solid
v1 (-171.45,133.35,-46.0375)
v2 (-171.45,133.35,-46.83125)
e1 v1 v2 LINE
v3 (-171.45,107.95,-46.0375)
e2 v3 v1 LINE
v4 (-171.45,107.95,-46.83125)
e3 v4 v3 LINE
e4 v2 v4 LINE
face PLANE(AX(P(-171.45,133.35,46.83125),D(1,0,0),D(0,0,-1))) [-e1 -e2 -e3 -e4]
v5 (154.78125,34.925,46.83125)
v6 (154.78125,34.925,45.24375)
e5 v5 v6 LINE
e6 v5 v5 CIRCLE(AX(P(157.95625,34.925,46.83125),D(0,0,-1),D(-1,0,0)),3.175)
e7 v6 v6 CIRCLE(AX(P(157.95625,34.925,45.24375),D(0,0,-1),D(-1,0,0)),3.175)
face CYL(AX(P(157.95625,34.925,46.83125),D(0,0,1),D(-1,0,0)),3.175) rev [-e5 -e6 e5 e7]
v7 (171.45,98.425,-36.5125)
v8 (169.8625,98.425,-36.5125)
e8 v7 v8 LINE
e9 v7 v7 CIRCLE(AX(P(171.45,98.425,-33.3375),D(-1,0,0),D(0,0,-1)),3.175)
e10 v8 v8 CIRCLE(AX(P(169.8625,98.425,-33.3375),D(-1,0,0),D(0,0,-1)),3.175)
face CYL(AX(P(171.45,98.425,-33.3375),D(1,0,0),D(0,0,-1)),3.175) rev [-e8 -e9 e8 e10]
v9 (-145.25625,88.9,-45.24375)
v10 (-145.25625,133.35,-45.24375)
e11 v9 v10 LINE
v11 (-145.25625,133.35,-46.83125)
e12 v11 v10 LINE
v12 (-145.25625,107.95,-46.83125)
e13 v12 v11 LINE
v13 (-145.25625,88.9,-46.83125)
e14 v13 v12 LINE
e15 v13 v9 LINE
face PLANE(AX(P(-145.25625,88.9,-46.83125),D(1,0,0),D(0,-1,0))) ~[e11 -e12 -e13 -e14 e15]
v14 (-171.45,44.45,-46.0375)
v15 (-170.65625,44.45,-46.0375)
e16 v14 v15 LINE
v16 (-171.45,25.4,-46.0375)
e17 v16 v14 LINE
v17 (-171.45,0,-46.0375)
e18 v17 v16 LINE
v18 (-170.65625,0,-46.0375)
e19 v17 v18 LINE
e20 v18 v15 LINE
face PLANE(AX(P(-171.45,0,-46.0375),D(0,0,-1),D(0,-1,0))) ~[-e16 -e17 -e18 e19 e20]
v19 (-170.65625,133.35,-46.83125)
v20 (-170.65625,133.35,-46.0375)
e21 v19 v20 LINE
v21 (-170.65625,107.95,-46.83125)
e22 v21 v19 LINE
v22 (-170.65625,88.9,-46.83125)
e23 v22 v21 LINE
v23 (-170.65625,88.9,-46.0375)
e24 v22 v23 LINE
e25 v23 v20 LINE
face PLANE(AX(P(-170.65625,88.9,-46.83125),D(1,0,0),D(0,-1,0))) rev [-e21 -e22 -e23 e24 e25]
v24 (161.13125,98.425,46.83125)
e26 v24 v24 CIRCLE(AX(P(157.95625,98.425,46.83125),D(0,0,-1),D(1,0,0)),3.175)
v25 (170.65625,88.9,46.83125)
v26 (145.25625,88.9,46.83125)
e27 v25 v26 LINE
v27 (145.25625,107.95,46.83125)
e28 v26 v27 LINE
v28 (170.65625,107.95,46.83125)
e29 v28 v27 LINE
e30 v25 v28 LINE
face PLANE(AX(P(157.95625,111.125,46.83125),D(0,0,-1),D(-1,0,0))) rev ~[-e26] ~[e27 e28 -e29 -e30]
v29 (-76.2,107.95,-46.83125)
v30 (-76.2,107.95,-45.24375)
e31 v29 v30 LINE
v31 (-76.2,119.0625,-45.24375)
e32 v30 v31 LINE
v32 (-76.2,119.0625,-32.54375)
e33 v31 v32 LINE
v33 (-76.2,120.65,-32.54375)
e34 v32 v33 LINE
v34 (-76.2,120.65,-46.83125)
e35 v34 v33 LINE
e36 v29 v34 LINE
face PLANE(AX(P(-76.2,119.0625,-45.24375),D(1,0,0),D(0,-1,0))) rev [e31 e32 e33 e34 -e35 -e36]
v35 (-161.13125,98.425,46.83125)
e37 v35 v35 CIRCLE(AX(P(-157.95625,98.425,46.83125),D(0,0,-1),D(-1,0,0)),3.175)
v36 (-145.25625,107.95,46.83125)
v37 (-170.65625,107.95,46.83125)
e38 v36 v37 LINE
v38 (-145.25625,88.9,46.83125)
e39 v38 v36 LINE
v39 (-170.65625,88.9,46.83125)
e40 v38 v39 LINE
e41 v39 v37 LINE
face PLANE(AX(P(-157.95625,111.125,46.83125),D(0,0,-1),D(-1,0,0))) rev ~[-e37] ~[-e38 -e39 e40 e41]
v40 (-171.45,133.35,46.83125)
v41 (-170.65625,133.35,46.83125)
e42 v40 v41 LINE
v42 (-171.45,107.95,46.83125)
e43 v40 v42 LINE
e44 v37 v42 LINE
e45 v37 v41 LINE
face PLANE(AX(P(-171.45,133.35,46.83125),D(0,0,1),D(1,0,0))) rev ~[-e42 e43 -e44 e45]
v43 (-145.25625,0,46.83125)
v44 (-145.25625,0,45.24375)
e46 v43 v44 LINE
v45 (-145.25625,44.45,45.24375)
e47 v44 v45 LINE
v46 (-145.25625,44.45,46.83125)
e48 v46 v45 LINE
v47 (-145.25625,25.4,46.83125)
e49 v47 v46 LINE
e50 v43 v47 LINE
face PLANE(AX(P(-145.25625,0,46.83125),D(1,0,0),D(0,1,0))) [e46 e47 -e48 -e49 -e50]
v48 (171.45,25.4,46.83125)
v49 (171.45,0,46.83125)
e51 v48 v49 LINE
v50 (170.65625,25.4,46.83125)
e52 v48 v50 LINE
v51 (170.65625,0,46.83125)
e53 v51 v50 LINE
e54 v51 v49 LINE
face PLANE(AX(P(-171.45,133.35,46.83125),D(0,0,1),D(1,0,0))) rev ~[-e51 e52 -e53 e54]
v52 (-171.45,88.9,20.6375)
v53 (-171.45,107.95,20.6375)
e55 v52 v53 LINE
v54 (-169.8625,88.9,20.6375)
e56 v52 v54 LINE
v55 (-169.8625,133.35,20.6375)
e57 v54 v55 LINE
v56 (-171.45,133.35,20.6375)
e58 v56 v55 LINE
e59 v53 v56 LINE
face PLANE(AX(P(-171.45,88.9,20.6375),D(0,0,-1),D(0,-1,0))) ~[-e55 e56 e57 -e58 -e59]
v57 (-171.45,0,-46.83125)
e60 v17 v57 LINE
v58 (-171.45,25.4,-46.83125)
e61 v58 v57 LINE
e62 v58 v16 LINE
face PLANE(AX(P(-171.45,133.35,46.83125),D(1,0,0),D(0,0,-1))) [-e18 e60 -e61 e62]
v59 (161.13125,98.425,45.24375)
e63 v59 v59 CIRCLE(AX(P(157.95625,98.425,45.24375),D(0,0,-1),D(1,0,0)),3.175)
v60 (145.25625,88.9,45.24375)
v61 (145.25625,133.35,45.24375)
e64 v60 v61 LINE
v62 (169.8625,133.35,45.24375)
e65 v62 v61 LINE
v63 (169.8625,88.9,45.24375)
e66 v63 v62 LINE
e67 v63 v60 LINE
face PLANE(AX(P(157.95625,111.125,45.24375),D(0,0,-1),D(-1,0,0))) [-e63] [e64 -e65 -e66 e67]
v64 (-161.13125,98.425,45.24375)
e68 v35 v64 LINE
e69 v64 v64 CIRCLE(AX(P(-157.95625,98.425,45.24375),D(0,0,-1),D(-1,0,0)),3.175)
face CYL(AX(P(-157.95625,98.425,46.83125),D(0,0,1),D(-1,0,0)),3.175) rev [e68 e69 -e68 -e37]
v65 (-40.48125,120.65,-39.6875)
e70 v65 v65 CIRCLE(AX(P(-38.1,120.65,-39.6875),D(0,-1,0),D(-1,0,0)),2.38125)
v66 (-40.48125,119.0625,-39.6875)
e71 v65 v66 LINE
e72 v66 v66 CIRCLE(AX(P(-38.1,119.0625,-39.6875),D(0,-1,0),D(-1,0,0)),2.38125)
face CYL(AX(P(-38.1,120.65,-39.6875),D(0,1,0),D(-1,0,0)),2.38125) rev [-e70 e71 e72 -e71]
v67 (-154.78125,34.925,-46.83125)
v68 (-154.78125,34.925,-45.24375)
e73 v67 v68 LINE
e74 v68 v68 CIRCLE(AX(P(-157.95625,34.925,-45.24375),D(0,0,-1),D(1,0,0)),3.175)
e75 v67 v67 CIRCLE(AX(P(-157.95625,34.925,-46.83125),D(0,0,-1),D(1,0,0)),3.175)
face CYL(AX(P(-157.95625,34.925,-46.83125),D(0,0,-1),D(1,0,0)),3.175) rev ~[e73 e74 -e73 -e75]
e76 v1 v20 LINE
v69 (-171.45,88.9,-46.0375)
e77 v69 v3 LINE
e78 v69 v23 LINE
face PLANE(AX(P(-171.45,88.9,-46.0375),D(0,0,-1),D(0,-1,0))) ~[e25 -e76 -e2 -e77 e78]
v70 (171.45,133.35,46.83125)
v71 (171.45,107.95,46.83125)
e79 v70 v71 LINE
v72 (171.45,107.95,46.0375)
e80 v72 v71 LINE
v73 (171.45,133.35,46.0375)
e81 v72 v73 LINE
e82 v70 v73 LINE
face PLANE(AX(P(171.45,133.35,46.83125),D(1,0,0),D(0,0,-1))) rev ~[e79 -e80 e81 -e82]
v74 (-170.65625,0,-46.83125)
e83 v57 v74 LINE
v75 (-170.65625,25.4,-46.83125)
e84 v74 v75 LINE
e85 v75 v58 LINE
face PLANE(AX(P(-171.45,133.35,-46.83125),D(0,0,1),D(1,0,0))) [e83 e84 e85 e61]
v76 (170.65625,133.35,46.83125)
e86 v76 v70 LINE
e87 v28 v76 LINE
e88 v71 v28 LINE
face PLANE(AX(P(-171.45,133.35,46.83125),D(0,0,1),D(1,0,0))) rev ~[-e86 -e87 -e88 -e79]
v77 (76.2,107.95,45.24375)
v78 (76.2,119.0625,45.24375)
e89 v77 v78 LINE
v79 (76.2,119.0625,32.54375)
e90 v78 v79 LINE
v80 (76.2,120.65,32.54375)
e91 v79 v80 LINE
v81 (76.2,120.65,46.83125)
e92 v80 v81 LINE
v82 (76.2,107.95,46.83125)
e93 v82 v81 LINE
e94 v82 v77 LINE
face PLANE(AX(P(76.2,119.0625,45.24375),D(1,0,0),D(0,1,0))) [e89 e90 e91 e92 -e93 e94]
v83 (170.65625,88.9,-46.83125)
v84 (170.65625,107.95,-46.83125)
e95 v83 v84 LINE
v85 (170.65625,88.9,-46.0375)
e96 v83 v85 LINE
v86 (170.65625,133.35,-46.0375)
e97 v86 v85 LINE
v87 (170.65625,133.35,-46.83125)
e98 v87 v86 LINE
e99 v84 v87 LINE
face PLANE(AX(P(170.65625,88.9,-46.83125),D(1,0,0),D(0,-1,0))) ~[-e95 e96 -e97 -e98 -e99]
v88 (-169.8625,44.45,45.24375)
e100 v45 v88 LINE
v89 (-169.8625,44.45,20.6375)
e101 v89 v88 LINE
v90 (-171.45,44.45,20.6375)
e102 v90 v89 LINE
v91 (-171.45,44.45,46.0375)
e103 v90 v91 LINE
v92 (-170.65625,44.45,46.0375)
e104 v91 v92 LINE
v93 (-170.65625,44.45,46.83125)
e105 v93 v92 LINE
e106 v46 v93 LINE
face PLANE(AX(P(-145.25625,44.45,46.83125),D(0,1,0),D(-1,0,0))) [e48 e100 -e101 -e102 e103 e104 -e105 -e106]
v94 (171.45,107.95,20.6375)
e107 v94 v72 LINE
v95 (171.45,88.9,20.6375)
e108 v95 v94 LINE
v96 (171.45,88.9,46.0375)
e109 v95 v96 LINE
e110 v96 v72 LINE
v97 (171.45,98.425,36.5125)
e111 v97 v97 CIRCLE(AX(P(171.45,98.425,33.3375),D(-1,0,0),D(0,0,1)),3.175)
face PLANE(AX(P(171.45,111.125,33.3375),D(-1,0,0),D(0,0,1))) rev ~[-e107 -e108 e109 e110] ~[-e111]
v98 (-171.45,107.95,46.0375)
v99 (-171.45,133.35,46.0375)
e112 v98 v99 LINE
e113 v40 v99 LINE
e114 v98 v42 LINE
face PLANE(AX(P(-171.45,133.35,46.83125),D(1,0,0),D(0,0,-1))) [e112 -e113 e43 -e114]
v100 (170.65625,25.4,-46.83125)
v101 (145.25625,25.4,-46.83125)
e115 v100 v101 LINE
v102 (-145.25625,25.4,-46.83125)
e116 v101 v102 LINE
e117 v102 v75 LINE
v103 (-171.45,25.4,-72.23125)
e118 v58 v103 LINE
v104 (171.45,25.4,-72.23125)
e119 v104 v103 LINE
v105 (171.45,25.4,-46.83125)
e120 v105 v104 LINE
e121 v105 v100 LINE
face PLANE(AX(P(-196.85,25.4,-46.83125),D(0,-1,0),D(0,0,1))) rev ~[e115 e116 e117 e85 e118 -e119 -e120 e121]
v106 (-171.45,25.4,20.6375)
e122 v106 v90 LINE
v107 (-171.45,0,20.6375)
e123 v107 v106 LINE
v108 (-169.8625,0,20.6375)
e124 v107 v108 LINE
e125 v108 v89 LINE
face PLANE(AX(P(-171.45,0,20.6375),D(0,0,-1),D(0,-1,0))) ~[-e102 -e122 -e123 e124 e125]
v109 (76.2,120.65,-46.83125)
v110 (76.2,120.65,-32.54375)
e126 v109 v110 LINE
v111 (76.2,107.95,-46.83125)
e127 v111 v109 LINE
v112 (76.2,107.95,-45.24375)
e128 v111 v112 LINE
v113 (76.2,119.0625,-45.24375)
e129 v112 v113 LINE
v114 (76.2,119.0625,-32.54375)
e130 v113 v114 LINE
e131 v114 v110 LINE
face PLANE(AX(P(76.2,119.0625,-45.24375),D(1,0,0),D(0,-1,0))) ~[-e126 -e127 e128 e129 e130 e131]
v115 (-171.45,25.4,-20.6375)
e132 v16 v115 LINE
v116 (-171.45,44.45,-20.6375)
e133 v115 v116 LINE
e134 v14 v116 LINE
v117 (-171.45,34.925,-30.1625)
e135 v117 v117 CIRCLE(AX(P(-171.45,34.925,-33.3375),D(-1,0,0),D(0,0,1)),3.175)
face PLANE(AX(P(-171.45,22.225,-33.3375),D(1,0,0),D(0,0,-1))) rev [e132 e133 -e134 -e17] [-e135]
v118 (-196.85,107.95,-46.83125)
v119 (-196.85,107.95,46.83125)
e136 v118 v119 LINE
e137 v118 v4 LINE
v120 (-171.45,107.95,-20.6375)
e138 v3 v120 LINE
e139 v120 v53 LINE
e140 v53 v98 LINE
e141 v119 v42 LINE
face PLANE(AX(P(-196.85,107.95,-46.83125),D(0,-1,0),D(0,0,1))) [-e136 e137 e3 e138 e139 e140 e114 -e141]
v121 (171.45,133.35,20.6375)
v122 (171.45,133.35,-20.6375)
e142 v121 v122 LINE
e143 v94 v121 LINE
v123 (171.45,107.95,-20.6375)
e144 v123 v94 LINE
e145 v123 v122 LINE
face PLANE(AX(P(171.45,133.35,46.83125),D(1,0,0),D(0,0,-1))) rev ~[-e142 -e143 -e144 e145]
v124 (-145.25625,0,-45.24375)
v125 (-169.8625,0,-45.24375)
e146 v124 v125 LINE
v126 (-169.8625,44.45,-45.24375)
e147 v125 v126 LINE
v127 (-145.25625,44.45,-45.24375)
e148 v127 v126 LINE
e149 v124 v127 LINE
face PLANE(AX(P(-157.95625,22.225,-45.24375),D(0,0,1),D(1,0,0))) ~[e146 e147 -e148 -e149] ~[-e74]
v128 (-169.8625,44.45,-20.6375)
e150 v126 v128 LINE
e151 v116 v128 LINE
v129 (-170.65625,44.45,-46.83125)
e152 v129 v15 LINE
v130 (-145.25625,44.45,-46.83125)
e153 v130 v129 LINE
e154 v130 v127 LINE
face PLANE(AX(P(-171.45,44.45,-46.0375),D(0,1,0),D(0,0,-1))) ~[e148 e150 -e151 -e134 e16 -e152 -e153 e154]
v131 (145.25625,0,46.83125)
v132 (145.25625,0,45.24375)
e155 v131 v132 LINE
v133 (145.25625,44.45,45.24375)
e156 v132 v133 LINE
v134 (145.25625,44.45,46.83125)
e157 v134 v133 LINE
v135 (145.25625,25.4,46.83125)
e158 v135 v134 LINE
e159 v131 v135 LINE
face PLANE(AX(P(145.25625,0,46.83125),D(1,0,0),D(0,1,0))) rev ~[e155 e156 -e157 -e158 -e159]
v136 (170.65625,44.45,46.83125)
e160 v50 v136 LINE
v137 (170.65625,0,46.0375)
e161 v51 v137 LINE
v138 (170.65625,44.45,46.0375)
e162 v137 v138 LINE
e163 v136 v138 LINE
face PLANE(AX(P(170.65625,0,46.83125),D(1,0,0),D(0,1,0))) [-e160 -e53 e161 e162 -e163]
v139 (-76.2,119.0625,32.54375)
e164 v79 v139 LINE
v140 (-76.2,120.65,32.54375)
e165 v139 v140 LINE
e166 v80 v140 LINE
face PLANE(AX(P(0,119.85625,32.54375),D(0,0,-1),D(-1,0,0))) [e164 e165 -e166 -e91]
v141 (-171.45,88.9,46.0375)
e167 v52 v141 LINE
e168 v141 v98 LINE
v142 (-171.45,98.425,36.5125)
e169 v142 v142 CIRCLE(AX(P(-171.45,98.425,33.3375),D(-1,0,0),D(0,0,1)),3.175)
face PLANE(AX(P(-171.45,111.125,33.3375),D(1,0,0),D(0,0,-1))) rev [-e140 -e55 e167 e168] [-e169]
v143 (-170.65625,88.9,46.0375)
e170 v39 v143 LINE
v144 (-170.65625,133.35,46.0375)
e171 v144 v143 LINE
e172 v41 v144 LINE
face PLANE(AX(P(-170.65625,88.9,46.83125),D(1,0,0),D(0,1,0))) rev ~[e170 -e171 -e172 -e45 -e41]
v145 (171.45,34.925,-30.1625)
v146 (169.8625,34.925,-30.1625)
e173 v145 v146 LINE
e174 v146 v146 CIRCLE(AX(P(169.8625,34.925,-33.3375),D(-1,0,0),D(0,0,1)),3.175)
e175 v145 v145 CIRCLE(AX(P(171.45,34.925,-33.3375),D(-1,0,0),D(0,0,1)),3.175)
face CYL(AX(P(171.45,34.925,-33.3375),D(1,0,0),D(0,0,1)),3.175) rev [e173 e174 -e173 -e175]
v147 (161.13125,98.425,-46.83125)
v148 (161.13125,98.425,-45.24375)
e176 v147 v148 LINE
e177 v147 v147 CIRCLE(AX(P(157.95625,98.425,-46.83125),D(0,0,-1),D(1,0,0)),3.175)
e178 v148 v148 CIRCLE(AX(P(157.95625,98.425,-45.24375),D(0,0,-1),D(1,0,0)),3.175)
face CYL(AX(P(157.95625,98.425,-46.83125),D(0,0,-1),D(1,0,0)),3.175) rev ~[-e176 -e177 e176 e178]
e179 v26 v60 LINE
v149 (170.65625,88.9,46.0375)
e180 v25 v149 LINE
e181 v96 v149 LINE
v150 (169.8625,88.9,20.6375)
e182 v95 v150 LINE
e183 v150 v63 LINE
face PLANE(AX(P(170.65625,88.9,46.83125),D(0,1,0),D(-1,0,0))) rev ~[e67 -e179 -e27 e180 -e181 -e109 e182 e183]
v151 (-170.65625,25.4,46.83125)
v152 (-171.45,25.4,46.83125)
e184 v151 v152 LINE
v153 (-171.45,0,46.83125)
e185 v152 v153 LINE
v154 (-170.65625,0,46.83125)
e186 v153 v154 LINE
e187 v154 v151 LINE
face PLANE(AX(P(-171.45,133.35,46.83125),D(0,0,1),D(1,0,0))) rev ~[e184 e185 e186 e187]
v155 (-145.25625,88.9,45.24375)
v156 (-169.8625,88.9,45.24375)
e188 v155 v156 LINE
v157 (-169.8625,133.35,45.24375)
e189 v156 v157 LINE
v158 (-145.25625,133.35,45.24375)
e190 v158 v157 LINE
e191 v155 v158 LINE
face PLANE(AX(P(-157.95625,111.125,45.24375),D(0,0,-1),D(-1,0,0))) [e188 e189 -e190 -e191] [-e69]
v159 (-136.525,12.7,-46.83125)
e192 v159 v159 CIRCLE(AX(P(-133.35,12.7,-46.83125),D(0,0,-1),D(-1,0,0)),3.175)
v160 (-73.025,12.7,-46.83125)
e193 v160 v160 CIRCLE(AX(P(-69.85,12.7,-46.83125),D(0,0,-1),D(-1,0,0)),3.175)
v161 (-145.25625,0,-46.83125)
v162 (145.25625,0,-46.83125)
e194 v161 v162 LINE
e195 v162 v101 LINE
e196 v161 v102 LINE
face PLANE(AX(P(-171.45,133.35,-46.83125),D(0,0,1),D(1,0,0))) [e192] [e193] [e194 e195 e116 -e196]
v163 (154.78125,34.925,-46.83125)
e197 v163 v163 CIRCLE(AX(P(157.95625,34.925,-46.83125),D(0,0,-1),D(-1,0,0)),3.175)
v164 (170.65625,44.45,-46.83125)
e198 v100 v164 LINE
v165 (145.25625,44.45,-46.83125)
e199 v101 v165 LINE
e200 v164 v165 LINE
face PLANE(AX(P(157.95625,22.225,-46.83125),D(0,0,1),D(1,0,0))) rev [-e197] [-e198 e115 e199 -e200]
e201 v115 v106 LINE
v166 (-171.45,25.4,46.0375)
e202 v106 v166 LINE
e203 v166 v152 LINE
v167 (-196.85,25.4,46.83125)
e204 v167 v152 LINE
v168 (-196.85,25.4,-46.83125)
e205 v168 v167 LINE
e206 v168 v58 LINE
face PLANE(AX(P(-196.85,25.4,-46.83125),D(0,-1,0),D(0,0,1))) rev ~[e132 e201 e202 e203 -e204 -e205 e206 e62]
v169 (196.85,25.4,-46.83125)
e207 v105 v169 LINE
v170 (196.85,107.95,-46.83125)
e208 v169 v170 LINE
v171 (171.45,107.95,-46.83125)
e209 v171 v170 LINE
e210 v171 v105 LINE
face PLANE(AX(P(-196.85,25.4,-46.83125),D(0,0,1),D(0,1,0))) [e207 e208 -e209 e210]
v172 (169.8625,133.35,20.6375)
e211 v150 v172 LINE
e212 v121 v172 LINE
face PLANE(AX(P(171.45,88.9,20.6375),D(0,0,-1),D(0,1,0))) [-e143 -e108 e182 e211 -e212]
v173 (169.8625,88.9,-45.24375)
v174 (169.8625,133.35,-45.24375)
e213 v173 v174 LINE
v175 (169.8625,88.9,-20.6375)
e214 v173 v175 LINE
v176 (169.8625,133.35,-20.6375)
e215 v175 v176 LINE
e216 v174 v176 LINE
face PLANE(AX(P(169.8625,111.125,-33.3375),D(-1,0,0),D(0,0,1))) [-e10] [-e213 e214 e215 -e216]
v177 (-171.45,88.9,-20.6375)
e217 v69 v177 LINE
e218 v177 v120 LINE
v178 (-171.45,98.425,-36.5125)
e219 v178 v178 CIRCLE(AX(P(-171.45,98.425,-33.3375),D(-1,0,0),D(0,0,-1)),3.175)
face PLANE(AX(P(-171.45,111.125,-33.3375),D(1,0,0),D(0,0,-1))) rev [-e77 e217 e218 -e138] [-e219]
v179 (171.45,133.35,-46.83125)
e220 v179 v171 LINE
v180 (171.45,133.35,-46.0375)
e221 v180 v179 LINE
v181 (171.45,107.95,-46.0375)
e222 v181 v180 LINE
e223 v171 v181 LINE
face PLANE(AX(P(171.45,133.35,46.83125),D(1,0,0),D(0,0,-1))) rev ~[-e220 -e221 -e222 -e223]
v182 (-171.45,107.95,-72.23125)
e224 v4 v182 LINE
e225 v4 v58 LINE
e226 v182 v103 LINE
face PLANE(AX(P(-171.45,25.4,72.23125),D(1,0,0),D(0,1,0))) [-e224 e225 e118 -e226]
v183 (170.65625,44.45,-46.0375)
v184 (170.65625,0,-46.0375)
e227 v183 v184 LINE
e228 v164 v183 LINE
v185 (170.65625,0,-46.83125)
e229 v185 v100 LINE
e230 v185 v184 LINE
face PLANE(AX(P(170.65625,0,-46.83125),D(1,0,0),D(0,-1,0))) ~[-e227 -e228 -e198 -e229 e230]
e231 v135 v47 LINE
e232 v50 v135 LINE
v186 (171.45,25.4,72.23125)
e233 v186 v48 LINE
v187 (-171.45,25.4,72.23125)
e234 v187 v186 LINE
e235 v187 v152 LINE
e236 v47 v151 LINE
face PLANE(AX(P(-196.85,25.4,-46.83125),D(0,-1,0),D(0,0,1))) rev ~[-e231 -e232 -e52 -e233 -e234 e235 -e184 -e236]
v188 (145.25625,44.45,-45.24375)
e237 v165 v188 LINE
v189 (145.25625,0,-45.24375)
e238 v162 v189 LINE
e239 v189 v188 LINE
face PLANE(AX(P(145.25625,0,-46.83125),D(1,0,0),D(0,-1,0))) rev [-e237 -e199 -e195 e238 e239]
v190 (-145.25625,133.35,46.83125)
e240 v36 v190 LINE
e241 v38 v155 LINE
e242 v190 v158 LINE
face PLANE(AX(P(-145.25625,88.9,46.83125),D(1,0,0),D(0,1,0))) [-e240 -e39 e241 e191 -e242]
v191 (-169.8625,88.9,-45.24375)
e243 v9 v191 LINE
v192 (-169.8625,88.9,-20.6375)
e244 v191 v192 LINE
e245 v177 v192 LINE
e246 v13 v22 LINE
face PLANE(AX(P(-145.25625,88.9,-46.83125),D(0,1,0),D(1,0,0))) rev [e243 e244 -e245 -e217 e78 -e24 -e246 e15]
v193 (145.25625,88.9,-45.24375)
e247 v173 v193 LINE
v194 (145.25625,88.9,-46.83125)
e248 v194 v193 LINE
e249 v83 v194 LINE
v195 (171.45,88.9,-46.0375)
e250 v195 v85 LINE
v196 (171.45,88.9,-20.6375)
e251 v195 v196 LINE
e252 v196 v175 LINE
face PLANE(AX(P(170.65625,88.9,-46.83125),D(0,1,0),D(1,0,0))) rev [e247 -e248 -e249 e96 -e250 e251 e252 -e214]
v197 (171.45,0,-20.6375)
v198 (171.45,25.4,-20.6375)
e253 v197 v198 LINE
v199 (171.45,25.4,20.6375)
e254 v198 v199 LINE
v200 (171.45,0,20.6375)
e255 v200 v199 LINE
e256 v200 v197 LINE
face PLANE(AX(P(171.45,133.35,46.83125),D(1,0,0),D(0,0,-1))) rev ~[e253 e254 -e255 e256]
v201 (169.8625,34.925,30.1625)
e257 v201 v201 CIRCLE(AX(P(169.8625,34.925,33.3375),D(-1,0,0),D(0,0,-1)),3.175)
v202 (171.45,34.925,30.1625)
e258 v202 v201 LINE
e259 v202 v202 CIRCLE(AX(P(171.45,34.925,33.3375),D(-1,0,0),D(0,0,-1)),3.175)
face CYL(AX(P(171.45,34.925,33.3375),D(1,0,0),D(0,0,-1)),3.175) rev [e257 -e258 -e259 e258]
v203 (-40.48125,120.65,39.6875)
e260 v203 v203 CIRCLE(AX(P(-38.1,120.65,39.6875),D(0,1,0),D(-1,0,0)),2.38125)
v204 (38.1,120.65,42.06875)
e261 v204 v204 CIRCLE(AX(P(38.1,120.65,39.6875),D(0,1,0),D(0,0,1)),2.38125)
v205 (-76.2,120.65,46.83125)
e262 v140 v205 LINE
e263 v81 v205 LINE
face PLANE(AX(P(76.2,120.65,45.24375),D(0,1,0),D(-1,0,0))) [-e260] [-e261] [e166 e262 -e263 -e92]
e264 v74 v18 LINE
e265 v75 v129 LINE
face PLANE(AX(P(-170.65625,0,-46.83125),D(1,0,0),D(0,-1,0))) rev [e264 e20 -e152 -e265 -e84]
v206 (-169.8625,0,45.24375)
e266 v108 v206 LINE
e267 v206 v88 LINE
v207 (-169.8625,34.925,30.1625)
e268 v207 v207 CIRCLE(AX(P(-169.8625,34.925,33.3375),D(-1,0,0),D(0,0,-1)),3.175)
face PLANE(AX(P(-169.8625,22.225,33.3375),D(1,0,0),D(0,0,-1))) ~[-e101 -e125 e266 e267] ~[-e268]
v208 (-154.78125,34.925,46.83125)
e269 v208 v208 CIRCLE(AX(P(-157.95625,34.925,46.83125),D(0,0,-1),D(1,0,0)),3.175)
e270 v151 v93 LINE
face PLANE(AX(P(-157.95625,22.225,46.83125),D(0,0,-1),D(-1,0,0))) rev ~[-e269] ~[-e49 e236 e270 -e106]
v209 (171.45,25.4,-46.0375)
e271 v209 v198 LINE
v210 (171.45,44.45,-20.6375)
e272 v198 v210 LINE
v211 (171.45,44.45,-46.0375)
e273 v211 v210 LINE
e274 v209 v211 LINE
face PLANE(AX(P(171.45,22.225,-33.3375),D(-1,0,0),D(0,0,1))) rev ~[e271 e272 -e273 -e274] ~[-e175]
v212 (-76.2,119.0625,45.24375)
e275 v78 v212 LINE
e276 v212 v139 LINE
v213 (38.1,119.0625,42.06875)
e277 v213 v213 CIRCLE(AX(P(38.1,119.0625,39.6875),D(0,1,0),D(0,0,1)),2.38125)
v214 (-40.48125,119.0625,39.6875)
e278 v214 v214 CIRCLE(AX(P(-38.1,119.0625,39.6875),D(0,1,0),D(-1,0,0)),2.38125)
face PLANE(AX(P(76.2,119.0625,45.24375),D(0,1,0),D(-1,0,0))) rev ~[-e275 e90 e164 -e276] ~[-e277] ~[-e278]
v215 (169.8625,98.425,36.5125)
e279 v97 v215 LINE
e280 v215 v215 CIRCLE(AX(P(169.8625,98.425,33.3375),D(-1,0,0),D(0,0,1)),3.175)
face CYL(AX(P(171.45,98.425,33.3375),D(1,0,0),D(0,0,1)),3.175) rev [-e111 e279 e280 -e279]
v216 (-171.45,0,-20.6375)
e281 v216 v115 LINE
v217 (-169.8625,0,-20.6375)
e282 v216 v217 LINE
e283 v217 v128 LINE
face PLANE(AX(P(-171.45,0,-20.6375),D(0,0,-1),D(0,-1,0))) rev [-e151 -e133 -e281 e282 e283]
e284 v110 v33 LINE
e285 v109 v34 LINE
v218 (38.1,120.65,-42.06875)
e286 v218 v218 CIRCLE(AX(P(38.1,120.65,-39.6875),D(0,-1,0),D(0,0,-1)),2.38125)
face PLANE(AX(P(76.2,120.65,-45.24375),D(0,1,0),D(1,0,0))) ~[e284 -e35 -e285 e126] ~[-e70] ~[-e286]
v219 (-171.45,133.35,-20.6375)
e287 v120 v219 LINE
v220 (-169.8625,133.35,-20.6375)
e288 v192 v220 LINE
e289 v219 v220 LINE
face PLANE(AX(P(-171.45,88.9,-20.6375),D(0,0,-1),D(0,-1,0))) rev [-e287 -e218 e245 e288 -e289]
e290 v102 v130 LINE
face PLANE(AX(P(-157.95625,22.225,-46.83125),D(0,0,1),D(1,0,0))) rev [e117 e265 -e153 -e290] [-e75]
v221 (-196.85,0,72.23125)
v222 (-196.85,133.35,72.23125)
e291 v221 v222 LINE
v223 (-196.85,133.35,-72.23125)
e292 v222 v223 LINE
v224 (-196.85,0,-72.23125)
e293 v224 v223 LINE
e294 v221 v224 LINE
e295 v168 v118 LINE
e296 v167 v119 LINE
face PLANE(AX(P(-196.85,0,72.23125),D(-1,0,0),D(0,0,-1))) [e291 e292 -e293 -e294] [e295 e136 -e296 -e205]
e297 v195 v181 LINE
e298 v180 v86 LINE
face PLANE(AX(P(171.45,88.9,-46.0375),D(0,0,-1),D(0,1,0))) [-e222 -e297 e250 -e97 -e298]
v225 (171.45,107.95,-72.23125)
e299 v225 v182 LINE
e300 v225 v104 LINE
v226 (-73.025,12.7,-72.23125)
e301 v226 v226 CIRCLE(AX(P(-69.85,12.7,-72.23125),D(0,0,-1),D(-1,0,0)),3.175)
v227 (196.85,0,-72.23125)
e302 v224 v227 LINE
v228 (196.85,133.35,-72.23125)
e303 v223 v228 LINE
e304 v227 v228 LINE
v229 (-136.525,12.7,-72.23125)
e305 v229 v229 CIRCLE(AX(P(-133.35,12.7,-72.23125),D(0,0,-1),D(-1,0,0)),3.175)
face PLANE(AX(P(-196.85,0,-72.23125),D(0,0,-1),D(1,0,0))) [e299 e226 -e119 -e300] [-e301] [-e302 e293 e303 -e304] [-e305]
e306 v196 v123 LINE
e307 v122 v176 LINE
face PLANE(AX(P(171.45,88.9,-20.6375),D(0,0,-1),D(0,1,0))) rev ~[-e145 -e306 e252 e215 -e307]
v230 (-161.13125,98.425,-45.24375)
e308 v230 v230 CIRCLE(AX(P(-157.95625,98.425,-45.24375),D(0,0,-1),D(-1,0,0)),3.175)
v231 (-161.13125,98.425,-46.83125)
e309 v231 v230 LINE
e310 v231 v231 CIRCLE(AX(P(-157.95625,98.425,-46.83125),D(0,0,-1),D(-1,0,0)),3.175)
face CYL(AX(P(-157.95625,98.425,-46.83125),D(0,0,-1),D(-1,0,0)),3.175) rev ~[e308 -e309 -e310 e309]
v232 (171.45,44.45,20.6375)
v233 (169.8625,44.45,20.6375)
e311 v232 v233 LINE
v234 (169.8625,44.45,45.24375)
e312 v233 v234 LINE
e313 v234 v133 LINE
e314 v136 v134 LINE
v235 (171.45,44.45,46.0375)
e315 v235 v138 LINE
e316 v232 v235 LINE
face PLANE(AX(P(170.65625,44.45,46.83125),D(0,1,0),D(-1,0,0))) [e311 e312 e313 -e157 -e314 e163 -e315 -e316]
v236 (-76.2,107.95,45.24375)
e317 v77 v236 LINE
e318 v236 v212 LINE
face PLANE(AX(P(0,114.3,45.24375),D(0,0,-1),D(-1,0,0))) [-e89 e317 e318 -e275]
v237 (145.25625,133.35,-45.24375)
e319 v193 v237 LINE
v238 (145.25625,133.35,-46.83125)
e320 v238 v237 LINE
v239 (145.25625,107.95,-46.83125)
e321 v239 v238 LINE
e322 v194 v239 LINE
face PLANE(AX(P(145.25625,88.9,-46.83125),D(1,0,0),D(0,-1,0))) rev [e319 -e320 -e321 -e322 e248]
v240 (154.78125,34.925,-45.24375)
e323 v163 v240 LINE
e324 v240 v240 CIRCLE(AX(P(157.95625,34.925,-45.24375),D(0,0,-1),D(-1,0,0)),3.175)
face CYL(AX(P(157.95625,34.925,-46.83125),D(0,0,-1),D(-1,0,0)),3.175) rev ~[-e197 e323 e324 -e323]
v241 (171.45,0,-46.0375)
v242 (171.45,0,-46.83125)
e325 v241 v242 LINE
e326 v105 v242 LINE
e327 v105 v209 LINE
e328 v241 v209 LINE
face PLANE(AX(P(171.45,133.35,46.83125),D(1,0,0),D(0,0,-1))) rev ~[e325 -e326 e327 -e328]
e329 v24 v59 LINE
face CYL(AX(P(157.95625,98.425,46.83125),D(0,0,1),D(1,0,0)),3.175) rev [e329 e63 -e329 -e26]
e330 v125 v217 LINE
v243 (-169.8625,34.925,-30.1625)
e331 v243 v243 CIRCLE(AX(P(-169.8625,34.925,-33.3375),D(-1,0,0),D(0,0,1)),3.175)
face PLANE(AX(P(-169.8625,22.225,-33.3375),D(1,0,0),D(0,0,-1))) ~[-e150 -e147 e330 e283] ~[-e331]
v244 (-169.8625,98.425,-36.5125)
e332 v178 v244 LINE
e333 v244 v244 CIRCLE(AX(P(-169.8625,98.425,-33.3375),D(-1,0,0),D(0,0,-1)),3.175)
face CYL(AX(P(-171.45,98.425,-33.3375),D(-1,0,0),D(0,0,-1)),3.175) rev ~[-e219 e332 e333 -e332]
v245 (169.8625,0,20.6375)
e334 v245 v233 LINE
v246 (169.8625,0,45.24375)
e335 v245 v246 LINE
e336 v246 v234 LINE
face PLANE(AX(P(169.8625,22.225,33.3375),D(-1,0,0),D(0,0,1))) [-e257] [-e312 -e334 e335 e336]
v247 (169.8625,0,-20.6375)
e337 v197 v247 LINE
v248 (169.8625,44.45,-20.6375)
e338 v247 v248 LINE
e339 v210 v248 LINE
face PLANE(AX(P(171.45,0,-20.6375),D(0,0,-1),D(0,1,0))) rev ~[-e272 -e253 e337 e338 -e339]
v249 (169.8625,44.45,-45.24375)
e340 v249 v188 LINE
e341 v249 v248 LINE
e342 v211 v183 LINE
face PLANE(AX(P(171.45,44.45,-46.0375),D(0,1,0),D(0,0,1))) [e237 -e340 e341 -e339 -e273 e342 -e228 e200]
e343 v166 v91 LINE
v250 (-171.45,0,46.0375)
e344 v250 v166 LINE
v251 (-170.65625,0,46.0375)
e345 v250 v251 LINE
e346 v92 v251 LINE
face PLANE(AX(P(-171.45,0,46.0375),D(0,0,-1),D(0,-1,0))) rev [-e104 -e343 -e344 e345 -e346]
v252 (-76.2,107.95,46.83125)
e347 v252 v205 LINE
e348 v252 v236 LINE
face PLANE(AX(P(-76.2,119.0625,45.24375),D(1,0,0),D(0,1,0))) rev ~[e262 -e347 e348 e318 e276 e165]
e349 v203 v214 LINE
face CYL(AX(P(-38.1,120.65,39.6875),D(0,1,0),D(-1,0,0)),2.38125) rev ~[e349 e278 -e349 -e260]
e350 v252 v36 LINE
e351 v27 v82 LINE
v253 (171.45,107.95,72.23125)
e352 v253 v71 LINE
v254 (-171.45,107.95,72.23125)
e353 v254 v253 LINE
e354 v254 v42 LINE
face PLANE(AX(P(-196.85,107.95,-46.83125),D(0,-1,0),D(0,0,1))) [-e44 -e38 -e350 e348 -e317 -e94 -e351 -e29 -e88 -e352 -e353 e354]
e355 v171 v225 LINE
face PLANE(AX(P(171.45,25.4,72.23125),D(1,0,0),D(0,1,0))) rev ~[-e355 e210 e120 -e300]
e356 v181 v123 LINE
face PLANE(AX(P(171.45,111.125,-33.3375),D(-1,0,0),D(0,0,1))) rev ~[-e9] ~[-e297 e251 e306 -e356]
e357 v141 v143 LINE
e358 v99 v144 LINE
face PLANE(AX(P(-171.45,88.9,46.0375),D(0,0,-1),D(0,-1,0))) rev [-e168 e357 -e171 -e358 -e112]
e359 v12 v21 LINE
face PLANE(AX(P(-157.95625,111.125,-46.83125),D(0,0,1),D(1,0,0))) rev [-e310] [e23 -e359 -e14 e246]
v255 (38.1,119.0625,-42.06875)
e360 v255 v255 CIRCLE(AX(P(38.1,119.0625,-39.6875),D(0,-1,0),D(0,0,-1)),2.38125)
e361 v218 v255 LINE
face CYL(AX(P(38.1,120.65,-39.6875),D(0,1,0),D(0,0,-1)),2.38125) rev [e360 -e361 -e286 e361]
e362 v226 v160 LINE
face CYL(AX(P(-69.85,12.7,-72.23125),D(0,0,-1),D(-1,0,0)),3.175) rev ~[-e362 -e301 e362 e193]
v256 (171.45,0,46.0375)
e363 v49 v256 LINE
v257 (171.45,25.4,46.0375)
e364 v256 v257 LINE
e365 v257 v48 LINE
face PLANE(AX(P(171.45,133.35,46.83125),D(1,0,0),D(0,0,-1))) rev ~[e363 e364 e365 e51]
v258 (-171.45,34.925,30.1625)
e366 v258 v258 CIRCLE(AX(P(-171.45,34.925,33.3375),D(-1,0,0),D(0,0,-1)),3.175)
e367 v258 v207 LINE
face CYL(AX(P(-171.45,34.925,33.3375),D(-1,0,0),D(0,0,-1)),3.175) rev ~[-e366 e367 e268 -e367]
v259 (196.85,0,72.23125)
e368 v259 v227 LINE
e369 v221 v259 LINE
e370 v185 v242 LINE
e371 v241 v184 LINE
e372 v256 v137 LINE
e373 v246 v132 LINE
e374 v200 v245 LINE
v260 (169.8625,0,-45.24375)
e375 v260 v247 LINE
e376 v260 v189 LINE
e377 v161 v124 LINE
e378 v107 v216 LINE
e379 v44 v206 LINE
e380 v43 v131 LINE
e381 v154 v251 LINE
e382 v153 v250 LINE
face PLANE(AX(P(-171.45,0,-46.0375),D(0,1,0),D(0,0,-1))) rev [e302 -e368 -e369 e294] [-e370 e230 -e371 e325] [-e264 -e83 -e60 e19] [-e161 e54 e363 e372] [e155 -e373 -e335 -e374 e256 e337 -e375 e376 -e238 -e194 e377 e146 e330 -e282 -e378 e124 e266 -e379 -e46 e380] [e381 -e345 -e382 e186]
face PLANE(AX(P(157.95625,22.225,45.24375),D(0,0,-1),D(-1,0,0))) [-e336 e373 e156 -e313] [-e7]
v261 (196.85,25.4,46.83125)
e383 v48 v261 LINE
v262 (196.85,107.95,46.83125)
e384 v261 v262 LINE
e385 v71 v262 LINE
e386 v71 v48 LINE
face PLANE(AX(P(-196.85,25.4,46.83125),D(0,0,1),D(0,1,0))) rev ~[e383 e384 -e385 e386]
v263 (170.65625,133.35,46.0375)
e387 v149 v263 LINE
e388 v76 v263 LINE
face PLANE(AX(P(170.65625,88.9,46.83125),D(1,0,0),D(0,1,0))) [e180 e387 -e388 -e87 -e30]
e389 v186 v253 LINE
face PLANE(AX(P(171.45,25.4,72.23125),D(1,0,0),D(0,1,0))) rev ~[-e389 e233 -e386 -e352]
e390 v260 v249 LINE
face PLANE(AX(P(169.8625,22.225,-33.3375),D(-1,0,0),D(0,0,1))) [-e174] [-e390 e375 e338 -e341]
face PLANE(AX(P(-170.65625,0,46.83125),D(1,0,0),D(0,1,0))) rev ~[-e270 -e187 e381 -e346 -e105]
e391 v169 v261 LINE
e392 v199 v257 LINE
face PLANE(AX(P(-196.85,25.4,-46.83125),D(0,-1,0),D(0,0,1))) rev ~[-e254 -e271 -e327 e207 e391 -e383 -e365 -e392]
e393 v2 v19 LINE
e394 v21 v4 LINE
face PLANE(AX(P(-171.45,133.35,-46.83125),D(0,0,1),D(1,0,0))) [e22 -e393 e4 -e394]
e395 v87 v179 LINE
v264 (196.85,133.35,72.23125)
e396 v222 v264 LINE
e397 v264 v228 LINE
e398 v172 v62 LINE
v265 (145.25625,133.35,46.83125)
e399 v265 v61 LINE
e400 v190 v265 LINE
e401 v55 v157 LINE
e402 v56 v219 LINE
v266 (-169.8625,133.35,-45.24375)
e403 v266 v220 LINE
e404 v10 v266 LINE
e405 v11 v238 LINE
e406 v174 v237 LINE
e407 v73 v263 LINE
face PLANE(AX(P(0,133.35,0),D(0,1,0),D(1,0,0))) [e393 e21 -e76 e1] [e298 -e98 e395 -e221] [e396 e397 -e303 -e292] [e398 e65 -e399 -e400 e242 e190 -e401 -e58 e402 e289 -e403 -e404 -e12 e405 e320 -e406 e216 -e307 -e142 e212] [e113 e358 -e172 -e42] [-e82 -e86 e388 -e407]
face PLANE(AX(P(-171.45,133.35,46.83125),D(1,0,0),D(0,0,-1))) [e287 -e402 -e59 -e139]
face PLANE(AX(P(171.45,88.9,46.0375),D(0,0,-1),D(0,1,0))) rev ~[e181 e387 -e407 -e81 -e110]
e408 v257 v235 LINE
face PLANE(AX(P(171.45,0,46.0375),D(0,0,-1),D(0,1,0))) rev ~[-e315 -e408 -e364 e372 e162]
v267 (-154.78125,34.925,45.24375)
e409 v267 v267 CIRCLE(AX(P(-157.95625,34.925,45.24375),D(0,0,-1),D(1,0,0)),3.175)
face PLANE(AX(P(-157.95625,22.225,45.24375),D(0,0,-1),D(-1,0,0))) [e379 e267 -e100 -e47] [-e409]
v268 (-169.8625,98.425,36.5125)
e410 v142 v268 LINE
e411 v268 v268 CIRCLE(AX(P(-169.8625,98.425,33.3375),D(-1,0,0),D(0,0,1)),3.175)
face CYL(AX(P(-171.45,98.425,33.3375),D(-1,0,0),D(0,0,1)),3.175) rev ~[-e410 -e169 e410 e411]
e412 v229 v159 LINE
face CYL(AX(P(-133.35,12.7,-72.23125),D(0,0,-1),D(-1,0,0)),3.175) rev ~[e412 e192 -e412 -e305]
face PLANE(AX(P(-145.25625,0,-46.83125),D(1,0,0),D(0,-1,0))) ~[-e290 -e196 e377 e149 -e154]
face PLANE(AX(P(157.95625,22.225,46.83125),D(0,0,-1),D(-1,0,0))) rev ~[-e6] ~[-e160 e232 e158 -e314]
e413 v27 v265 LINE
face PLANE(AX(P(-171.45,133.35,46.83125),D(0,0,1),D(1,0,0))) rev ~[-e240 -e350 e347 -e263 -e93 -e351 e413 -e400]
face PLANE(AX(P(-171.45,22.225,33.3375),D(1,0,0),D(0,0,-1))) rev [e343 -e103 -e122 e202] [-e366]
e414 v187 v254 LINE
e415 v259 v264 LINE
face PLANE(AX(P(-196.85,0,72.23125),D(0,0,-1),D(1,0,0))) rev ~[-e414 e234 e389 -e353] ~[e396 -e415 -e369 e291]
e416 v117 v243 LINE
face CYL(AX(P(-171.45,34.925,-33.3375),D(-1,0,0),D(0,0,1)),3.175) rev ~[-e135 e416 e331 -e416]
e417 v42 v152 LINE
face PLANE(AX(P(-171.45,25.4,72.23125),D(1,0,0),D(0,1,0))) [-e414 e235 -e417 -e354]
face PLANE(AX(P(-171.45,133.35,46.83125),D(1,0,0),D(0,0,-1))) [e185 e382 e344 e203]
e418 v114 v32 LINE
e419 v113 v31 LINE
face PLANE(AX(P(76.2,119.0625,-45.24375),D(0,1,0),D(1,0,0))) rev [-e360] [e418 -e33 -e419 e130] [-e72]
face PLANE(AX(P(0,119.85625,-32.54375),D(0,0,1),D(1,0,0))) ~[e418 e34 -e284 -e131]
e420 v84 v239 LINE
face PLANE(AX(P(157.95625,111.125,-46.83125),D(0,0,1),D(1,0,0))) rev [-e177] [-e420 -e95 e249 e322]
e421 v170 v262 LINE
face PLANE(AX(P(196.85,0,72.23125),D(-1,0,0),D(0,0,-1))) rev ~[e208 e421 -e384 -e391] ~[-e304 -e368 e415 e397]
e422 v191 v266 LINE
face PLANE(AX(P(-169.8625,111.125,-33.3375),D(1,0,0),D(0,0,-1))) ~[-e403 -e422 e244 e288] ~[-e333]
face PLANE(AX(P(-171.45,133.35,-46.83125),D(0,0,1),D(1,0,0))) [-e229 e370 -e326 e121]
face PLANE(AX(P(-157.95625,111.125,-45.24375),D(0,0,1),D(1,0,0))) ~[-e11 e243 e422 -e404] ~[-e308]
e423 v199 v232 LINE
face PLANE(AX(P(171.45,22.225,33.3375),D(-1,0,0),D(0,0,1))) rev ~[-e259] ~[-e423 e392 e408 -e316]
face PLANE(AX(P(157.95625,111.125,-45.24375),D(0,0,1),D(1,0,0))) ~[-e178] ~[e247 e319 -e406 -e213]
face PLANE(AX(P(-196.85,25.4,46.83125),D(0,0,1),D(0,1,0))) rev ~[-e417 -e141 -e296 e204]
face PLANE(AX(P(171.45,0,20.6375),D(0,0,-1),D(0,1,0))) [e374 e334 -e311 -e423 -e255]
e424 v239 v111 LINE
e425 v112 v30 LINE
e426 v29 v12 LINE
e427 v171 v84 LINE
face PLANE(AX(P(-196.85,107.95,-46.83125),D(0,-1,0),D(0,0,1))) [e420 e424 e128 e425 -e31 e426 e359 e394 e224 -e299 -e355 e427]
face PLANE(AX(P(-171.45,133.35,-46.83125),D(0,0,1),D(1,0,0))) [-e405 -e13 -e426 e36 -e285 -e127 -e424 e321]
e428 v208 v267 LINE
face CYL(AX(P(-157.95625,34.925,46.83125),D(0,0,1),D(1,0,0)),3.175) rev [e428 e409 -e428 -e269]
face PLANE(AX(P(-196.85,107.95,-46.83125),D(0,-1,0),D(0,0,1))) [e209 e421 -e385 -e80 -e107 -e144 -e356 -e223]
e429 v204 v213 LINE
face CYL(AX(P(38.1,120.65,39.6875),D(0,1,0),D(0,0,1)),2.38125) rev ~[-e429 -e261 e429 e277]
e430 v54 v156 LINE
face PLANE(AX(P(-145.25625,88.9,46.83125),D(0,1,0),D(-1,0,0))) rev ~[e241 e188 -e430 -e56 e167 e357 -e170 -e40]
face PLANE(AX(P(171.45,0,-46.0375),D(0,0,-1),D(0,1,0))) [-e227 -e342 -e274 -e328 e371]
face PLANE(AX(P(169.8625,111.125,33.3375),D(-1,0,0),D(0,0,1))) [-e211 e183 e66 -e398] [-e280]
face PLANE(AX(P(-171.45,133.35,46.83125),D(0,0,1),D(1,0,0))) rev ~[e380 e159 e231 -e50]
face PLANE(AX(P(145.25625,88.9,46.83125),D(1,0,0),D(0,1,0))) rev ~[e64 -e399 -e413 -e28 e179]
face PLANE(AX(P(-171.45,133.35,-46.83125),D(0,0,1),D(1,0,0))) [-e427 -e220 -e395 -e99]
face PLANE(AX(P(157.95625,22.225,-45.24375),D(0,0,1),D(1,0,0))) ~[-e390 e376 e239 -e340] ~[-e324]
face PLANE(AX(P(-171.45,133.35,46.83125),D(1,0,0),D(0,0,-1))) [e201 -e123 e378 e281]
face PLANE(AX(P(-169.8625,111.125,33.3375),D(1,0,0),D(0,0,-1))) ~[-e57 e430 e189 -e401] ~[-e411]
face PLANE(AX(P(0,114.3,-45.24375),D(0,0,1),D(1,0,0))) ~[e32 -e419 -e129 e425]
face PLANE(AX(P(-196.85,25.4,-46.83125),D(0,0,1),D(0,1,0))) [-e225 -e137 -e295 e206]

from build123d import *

# Parameters (mm, degrees)
SKETCH1_W            = 393.7
SKETCH1_H            = 144.4625
BOSS_EXTRUDE1_DEPTH  = 133.35
SKETCH6_W            = 342.9
SKETCH6_H            = 82.55
CUT_EXTRUDE4_DEPTH   = 279.211356537
SKETCH7_W            = 93.6625
SKETCH7_H            = 82.55
CUT_EXTRUDE5_DEPTH   = 422.899592292
SKETCH8_W            = 342.9
SKETCH8_H            = 93.6625
CUT_EXTRUDE6_DEPTH   = 249.494463674
SKETCH10_W           = 25.4
SKETCH10_H           = 44.45
SKETCH10_R           = 3.175
BOSS_EXTRUDE7_DEPTH  = 1.5875
SKETCH12_W           = 25.4
SKETCH12_H           = 44.45
SKETCH12_R           = 3.175
BOSS_EXTRUDE8_DEPTH  = 1.5875
SKETCH13_W           = 152.4
SKETCH13_H           = 12.7
BOSS_EXTRUDE9_DEPTH  = 1.5875
SKETCH14_W           = 152.4
SKETCH14_H           = 1.5875
BOSS_EXTRUDE10_DEPTH = 12.7
CUT_EXTRUDE8_REACH   = 243.917
SKETCH15_R           = 2.38125
CUT_EXTRUDE10_REACH  = 280.211
SKETCH17_R           = 3.175


with BuildPart() as part:
    # Sketch1 → Boss-Extrude1 (new body)
    with BuildSketch(Plane(origin=(0, 0, 0), x_dir=(1, 0, 0), z_dir=(0, 1, 0))):
        Rectangle(SKETCH1_W, SKETCH1_H)
    extrude(amount=BOSS_EXTRUDE1_DEPTH)

    # Sketch6 → Cut-Extrude4 (cut, through all)
    with BuildSketch(Plane.XY.offset(72.23125)):
        with Locations((0, 66.675)):
            Rectangle(SKETCH6_W, SKETCH6_H)
    extrude(amount=-CUT_EXTRUDE4_DEPTH, mode=Mode.SUBTRACT)

    # Sketch7 → Cut-Extrude5 (cut, through all)
    with BuildSketch(Plane.ZY.offset(196.85)):
        with Locations((0, 66.675)):
            Rectangle(SKETCH7_W, SKETCH7_H)
    extrude(amount=-CUT_EXTRUDE5_DEPTH, mode=Mode.SUBTRACT)

    # Sketch8 → Cut-Extrude6 (cut, through all)
    with BuildSketch(Plane(origin=(0, 133.35, 0), x_dir=(1, 0, 0), z_dir=(0, 1, 0))):
        Rectangle(SKETCH8_W, SKETCH8_H)
    extrude(amount=-CUT_EXTRUDE6_DEPTH, mode=Mode.SUBTRACT)

    # Sketch10 → Boss-Extrude7 (add)
    # profile 1 of 4: a face of its own
    with BuildSketch(Plane(origin=(0, 0, 46.83125), x_dir=(-1, 0, 0), z_dir=(0, 0, -1))):
        with Locations((-157.95625, 22.225)):
            Rectangle(SKETCH10_W, SKETCH10_H)
        with Locations((-157.95625, 34.925)):
            Circle(SKETCH10_R, mode=Mode.SUBTRACT)
    # profile 2 of 4: a face of its own
    with BuildSketch(Plane(origin=(0, 0, 46.83125), x_dir=(-1, 0, 0), z_dir=(0, 0, -1))):
        with Locations((157.95625, 22.225)):
            Rectangle(SKETCH10_W, SKETCH10_H)
        with Locations(Location((157.95625, 34.925, 0), (0, 0, 180))):
            Circle(SKETCH10_R, mode=Mode.SUBTRACT)
    # profile 3 of 4: a face of its own
    with BuildSketch(Plane(origin=(0, 0, 46.83125), x_dir=(-1, 0, 0), z_dir=(0, 0, -1))):
        with Locations((157.95625, 111.125)):
            Rectangle(SKETCH10_W, SKETCH10_H)
        with Locations((157.95625, 98.425)):
            Circle(SKETCH10_R, mode=Mode.SUBTRACT)
    # profile 4 of 4: a face of its own
    with BuildSketch(Plane(origin=(0, 0, 46.83125), x_dir=(-1, 0, 0), z_dir=(0, 0, -1))):
        with Locations((-157.95625, 111.125)):
            Rectangle(SKETCH10_W, SKETCH10_H)
        with Locations(Location((-157.95625, 98.425, 0), (0, 0, 180))):
            Circle(SKETCH10_R, mode=Mode.SUBTRACT)
    boss_extrude7 = extrude(amount=BOSS_EXTRUDE7_DEPTH)

    # Mirror5: Boss-Extrude7 across plane
    add(boss_extrude7.mirror(Plane.XY))

    # Sketch12 → Boss-Extrude8 (add)
    # profile 1 of 4: a face of its own
    with BuildSketch(Plane.ZY.offset(-171.45)):
        with Locations((-33.3375, 22.225)):
            Rectangle(SKETCH12_W, SKETCH12_H)
        with Locations((-33.3375, 34.925)):
            Circle(SKETCH12_R, mode=Mode.SUBTRACT)
    # profile 2 of 4: a face of its own
    with BuildSketch(Plane.ZY.offset(-171.45)):
        with Locations((33.3375, 22.225)):
            Rectangle(SKETCH12_W, SKETCH12_H)
        with Locations(Location((33.3375, 34.925, 0), (0, 0, 180))):
            Circle(SKETCH12_R, mode=Mode.SUBTRACT)
    # profile 3 of 4: a face of its own
    with BuildSketch(Plane.ZY.offset(-171.45)):
        with Locations((33.3375, 111.125)):
            Rectangle(SKETCH12_W, SKETCH12_H)
        with Locations((33.3375, 98.425)):
            Circle(SKETCH12_R, mode=Mode.SUBTRACT)
    # profile 4 of 4: a face of its own
    with BuildSketch(Plane.ZY.offset(-171.45)):
        with Locations((-33.3375, 111.125)):
            Rectangle(SKETCH12_W, SKETCH12_H)
        with Locations(Location((-33.3375, 98.425, 0), (0, 0, 180))):
            Circle(SKETCH12_R, mode=Mode.SUBTRACT)
    boss_extrude8 = extrude(amount=BOSS_EXTRUDE8_DEPTH)

    # Mirror6: Boss-Extrude8 across plane
    add(boss_extrude8.mirror(Plane(origin=(0, 0, 0), x_dir=(0, 0, 1), z_dir=(1, 0, 0))))

    # Sketch13 → Boss-Extrude9 (add)
    with BuildSketch(Plane(origin=(0, 0, 46.83125), x_dir=(-1, 0, 0), z_dir=(0, 0, -1))):
        with Locations((0, 114.3)):
            Rectangle(SKETCH13_W, SKETCH13_H)
    boss_extrude9 = extrude(amount=BOSS_EXTRUDE9_DEPTH)

    # Sketch14 → Boss-Extrude10 (add)
    with BuildSketch(Plane(origin=(0, 0, 45.24375), x_dir=(-1, 0, 0), z_dir=(0, 0, -1))):
        with Locations((0, 119.85625)):
            Rectangle(SKETCH14_W, SKETCH14_H)
    boss_extrude10 = extrude(amount=BOSS_EXTRUDE10_DEPTH)

    # Sketch15 → Cut-Extrude8 (cut, up to next)
    with BuildSketch(Plane(origin=(0, 120.65, 0), x_dir=(1, 0, 0), z_dir=(0, 1, 0)), mode=Mode.PRIVATE) as cut_extrude8_sk1:
        with Locations(Location((-38.1, -39.6875, 0), (0, 0, 180))):
            Circle(SKETCH15_R)
    cut_extrude8_tool1 = extrude(cut_extrude8_sk1.sketch, amount=-CUT_EXTRUDE8_REACH, mode=Mode.PRIVATE) & part.part
    # Sketch15 → Cut-Extrude8 (cut, up to next)
    with BuildSketch(Plane(origin=(0, 120.65, 0), x_dir=(1, 0, 0), z_dir=(0, 1, 0)), mode=Mode.PRIVATE) as cut_extrude8_sk2:
        with Locations(Location((38.1, -39.6875, 0), (0, 0, 270))):
            Circle(SKETCH15_R)
    cut_extrude8_tool2 = extrude(cut_extrude8_sk2.sketch, amount=-CUT_EXTRUDE8_REACH, mode=Mode.PRIVATE) & part.part
    cut_extrude8_1 = cut_extrude8_tool1.solids().sort_by_distance((-38.1, 120.65, 39.6875))[0]
    add(cut_extrude8_1, mode=Mode.SUBTRACT)
    cut_extrude8_2 = cut_extrude8_tool2.solids().sort_by_distance((38.1, 120.65, 39.6875))[0]
    add(cut_extrude8_2, mode=Mode.SUBTRACT)
    cut_extrude8 = cut_extrude8_1 + cut_extrude8_2  # Cut-Extrude8 as one shape, for the pattern or mirror that repeats it

    # Mirror7: Boss-Extrude9, Boss-Extrude10, Cut-Extrude8 across plane
    add(boss_extrude9.mirror(Plane.XY))
    add(boss_extrude10.mirror(Plane.XY))
    add(cut_extrude8.mirror(Plane.XY), mode=Mode.SUBTRACT)

    # Sketch17 → Cut-Extrude10 (cut, up to next)
    with BuildSketch(Plane(origin=(0, 0, -72.23125), x_dir=(-1, 0, 0), z_dir=(0, 0, -1)), mode=Mode.PRIVATE) as cut_extrude10_sk1:
        with Locations((69.85, 12.7)):
            Circle(SKETCH17_R)
    cut_extrude10_tool1 = extrude(cut_extrude10_sk1.sketch, amount=-CUT_EXTRUDE10_REACH, mode=Mode.PRIVATE) & part.part
    # Sketch17 → Cut-Extrude10 (cut, up to next)
    with BuildSketch(Plane(origin=(0, 0, -72.23125), x_dir=(-1, 0, 0), z_dir=(0, 0, -1)), mode=Mode.PRIVATE) as cut_extrude10_sk2:
        with Locations((133.35, 12.7)):
            Circle(SKETCH17_R)
    cut_extrude10_tool2 = extrude(cut_extrude10_sk2.sketch, amount=-CUT_EXTRUDE10_REACH, mode=Mode.PRIVATE) & part.part
    add(cut_extrude10_tool1.solids().sort_by_distance((-69.85, 12.7, -72.23125))[0], mode=Mode.SUBTRACT)
    add(cut_extrude10_tool2.solids().sort_by_distance((-133.35, 12.7, -72.23125))[0], mode=Mode.SUBTRACT)


solid = part.part
